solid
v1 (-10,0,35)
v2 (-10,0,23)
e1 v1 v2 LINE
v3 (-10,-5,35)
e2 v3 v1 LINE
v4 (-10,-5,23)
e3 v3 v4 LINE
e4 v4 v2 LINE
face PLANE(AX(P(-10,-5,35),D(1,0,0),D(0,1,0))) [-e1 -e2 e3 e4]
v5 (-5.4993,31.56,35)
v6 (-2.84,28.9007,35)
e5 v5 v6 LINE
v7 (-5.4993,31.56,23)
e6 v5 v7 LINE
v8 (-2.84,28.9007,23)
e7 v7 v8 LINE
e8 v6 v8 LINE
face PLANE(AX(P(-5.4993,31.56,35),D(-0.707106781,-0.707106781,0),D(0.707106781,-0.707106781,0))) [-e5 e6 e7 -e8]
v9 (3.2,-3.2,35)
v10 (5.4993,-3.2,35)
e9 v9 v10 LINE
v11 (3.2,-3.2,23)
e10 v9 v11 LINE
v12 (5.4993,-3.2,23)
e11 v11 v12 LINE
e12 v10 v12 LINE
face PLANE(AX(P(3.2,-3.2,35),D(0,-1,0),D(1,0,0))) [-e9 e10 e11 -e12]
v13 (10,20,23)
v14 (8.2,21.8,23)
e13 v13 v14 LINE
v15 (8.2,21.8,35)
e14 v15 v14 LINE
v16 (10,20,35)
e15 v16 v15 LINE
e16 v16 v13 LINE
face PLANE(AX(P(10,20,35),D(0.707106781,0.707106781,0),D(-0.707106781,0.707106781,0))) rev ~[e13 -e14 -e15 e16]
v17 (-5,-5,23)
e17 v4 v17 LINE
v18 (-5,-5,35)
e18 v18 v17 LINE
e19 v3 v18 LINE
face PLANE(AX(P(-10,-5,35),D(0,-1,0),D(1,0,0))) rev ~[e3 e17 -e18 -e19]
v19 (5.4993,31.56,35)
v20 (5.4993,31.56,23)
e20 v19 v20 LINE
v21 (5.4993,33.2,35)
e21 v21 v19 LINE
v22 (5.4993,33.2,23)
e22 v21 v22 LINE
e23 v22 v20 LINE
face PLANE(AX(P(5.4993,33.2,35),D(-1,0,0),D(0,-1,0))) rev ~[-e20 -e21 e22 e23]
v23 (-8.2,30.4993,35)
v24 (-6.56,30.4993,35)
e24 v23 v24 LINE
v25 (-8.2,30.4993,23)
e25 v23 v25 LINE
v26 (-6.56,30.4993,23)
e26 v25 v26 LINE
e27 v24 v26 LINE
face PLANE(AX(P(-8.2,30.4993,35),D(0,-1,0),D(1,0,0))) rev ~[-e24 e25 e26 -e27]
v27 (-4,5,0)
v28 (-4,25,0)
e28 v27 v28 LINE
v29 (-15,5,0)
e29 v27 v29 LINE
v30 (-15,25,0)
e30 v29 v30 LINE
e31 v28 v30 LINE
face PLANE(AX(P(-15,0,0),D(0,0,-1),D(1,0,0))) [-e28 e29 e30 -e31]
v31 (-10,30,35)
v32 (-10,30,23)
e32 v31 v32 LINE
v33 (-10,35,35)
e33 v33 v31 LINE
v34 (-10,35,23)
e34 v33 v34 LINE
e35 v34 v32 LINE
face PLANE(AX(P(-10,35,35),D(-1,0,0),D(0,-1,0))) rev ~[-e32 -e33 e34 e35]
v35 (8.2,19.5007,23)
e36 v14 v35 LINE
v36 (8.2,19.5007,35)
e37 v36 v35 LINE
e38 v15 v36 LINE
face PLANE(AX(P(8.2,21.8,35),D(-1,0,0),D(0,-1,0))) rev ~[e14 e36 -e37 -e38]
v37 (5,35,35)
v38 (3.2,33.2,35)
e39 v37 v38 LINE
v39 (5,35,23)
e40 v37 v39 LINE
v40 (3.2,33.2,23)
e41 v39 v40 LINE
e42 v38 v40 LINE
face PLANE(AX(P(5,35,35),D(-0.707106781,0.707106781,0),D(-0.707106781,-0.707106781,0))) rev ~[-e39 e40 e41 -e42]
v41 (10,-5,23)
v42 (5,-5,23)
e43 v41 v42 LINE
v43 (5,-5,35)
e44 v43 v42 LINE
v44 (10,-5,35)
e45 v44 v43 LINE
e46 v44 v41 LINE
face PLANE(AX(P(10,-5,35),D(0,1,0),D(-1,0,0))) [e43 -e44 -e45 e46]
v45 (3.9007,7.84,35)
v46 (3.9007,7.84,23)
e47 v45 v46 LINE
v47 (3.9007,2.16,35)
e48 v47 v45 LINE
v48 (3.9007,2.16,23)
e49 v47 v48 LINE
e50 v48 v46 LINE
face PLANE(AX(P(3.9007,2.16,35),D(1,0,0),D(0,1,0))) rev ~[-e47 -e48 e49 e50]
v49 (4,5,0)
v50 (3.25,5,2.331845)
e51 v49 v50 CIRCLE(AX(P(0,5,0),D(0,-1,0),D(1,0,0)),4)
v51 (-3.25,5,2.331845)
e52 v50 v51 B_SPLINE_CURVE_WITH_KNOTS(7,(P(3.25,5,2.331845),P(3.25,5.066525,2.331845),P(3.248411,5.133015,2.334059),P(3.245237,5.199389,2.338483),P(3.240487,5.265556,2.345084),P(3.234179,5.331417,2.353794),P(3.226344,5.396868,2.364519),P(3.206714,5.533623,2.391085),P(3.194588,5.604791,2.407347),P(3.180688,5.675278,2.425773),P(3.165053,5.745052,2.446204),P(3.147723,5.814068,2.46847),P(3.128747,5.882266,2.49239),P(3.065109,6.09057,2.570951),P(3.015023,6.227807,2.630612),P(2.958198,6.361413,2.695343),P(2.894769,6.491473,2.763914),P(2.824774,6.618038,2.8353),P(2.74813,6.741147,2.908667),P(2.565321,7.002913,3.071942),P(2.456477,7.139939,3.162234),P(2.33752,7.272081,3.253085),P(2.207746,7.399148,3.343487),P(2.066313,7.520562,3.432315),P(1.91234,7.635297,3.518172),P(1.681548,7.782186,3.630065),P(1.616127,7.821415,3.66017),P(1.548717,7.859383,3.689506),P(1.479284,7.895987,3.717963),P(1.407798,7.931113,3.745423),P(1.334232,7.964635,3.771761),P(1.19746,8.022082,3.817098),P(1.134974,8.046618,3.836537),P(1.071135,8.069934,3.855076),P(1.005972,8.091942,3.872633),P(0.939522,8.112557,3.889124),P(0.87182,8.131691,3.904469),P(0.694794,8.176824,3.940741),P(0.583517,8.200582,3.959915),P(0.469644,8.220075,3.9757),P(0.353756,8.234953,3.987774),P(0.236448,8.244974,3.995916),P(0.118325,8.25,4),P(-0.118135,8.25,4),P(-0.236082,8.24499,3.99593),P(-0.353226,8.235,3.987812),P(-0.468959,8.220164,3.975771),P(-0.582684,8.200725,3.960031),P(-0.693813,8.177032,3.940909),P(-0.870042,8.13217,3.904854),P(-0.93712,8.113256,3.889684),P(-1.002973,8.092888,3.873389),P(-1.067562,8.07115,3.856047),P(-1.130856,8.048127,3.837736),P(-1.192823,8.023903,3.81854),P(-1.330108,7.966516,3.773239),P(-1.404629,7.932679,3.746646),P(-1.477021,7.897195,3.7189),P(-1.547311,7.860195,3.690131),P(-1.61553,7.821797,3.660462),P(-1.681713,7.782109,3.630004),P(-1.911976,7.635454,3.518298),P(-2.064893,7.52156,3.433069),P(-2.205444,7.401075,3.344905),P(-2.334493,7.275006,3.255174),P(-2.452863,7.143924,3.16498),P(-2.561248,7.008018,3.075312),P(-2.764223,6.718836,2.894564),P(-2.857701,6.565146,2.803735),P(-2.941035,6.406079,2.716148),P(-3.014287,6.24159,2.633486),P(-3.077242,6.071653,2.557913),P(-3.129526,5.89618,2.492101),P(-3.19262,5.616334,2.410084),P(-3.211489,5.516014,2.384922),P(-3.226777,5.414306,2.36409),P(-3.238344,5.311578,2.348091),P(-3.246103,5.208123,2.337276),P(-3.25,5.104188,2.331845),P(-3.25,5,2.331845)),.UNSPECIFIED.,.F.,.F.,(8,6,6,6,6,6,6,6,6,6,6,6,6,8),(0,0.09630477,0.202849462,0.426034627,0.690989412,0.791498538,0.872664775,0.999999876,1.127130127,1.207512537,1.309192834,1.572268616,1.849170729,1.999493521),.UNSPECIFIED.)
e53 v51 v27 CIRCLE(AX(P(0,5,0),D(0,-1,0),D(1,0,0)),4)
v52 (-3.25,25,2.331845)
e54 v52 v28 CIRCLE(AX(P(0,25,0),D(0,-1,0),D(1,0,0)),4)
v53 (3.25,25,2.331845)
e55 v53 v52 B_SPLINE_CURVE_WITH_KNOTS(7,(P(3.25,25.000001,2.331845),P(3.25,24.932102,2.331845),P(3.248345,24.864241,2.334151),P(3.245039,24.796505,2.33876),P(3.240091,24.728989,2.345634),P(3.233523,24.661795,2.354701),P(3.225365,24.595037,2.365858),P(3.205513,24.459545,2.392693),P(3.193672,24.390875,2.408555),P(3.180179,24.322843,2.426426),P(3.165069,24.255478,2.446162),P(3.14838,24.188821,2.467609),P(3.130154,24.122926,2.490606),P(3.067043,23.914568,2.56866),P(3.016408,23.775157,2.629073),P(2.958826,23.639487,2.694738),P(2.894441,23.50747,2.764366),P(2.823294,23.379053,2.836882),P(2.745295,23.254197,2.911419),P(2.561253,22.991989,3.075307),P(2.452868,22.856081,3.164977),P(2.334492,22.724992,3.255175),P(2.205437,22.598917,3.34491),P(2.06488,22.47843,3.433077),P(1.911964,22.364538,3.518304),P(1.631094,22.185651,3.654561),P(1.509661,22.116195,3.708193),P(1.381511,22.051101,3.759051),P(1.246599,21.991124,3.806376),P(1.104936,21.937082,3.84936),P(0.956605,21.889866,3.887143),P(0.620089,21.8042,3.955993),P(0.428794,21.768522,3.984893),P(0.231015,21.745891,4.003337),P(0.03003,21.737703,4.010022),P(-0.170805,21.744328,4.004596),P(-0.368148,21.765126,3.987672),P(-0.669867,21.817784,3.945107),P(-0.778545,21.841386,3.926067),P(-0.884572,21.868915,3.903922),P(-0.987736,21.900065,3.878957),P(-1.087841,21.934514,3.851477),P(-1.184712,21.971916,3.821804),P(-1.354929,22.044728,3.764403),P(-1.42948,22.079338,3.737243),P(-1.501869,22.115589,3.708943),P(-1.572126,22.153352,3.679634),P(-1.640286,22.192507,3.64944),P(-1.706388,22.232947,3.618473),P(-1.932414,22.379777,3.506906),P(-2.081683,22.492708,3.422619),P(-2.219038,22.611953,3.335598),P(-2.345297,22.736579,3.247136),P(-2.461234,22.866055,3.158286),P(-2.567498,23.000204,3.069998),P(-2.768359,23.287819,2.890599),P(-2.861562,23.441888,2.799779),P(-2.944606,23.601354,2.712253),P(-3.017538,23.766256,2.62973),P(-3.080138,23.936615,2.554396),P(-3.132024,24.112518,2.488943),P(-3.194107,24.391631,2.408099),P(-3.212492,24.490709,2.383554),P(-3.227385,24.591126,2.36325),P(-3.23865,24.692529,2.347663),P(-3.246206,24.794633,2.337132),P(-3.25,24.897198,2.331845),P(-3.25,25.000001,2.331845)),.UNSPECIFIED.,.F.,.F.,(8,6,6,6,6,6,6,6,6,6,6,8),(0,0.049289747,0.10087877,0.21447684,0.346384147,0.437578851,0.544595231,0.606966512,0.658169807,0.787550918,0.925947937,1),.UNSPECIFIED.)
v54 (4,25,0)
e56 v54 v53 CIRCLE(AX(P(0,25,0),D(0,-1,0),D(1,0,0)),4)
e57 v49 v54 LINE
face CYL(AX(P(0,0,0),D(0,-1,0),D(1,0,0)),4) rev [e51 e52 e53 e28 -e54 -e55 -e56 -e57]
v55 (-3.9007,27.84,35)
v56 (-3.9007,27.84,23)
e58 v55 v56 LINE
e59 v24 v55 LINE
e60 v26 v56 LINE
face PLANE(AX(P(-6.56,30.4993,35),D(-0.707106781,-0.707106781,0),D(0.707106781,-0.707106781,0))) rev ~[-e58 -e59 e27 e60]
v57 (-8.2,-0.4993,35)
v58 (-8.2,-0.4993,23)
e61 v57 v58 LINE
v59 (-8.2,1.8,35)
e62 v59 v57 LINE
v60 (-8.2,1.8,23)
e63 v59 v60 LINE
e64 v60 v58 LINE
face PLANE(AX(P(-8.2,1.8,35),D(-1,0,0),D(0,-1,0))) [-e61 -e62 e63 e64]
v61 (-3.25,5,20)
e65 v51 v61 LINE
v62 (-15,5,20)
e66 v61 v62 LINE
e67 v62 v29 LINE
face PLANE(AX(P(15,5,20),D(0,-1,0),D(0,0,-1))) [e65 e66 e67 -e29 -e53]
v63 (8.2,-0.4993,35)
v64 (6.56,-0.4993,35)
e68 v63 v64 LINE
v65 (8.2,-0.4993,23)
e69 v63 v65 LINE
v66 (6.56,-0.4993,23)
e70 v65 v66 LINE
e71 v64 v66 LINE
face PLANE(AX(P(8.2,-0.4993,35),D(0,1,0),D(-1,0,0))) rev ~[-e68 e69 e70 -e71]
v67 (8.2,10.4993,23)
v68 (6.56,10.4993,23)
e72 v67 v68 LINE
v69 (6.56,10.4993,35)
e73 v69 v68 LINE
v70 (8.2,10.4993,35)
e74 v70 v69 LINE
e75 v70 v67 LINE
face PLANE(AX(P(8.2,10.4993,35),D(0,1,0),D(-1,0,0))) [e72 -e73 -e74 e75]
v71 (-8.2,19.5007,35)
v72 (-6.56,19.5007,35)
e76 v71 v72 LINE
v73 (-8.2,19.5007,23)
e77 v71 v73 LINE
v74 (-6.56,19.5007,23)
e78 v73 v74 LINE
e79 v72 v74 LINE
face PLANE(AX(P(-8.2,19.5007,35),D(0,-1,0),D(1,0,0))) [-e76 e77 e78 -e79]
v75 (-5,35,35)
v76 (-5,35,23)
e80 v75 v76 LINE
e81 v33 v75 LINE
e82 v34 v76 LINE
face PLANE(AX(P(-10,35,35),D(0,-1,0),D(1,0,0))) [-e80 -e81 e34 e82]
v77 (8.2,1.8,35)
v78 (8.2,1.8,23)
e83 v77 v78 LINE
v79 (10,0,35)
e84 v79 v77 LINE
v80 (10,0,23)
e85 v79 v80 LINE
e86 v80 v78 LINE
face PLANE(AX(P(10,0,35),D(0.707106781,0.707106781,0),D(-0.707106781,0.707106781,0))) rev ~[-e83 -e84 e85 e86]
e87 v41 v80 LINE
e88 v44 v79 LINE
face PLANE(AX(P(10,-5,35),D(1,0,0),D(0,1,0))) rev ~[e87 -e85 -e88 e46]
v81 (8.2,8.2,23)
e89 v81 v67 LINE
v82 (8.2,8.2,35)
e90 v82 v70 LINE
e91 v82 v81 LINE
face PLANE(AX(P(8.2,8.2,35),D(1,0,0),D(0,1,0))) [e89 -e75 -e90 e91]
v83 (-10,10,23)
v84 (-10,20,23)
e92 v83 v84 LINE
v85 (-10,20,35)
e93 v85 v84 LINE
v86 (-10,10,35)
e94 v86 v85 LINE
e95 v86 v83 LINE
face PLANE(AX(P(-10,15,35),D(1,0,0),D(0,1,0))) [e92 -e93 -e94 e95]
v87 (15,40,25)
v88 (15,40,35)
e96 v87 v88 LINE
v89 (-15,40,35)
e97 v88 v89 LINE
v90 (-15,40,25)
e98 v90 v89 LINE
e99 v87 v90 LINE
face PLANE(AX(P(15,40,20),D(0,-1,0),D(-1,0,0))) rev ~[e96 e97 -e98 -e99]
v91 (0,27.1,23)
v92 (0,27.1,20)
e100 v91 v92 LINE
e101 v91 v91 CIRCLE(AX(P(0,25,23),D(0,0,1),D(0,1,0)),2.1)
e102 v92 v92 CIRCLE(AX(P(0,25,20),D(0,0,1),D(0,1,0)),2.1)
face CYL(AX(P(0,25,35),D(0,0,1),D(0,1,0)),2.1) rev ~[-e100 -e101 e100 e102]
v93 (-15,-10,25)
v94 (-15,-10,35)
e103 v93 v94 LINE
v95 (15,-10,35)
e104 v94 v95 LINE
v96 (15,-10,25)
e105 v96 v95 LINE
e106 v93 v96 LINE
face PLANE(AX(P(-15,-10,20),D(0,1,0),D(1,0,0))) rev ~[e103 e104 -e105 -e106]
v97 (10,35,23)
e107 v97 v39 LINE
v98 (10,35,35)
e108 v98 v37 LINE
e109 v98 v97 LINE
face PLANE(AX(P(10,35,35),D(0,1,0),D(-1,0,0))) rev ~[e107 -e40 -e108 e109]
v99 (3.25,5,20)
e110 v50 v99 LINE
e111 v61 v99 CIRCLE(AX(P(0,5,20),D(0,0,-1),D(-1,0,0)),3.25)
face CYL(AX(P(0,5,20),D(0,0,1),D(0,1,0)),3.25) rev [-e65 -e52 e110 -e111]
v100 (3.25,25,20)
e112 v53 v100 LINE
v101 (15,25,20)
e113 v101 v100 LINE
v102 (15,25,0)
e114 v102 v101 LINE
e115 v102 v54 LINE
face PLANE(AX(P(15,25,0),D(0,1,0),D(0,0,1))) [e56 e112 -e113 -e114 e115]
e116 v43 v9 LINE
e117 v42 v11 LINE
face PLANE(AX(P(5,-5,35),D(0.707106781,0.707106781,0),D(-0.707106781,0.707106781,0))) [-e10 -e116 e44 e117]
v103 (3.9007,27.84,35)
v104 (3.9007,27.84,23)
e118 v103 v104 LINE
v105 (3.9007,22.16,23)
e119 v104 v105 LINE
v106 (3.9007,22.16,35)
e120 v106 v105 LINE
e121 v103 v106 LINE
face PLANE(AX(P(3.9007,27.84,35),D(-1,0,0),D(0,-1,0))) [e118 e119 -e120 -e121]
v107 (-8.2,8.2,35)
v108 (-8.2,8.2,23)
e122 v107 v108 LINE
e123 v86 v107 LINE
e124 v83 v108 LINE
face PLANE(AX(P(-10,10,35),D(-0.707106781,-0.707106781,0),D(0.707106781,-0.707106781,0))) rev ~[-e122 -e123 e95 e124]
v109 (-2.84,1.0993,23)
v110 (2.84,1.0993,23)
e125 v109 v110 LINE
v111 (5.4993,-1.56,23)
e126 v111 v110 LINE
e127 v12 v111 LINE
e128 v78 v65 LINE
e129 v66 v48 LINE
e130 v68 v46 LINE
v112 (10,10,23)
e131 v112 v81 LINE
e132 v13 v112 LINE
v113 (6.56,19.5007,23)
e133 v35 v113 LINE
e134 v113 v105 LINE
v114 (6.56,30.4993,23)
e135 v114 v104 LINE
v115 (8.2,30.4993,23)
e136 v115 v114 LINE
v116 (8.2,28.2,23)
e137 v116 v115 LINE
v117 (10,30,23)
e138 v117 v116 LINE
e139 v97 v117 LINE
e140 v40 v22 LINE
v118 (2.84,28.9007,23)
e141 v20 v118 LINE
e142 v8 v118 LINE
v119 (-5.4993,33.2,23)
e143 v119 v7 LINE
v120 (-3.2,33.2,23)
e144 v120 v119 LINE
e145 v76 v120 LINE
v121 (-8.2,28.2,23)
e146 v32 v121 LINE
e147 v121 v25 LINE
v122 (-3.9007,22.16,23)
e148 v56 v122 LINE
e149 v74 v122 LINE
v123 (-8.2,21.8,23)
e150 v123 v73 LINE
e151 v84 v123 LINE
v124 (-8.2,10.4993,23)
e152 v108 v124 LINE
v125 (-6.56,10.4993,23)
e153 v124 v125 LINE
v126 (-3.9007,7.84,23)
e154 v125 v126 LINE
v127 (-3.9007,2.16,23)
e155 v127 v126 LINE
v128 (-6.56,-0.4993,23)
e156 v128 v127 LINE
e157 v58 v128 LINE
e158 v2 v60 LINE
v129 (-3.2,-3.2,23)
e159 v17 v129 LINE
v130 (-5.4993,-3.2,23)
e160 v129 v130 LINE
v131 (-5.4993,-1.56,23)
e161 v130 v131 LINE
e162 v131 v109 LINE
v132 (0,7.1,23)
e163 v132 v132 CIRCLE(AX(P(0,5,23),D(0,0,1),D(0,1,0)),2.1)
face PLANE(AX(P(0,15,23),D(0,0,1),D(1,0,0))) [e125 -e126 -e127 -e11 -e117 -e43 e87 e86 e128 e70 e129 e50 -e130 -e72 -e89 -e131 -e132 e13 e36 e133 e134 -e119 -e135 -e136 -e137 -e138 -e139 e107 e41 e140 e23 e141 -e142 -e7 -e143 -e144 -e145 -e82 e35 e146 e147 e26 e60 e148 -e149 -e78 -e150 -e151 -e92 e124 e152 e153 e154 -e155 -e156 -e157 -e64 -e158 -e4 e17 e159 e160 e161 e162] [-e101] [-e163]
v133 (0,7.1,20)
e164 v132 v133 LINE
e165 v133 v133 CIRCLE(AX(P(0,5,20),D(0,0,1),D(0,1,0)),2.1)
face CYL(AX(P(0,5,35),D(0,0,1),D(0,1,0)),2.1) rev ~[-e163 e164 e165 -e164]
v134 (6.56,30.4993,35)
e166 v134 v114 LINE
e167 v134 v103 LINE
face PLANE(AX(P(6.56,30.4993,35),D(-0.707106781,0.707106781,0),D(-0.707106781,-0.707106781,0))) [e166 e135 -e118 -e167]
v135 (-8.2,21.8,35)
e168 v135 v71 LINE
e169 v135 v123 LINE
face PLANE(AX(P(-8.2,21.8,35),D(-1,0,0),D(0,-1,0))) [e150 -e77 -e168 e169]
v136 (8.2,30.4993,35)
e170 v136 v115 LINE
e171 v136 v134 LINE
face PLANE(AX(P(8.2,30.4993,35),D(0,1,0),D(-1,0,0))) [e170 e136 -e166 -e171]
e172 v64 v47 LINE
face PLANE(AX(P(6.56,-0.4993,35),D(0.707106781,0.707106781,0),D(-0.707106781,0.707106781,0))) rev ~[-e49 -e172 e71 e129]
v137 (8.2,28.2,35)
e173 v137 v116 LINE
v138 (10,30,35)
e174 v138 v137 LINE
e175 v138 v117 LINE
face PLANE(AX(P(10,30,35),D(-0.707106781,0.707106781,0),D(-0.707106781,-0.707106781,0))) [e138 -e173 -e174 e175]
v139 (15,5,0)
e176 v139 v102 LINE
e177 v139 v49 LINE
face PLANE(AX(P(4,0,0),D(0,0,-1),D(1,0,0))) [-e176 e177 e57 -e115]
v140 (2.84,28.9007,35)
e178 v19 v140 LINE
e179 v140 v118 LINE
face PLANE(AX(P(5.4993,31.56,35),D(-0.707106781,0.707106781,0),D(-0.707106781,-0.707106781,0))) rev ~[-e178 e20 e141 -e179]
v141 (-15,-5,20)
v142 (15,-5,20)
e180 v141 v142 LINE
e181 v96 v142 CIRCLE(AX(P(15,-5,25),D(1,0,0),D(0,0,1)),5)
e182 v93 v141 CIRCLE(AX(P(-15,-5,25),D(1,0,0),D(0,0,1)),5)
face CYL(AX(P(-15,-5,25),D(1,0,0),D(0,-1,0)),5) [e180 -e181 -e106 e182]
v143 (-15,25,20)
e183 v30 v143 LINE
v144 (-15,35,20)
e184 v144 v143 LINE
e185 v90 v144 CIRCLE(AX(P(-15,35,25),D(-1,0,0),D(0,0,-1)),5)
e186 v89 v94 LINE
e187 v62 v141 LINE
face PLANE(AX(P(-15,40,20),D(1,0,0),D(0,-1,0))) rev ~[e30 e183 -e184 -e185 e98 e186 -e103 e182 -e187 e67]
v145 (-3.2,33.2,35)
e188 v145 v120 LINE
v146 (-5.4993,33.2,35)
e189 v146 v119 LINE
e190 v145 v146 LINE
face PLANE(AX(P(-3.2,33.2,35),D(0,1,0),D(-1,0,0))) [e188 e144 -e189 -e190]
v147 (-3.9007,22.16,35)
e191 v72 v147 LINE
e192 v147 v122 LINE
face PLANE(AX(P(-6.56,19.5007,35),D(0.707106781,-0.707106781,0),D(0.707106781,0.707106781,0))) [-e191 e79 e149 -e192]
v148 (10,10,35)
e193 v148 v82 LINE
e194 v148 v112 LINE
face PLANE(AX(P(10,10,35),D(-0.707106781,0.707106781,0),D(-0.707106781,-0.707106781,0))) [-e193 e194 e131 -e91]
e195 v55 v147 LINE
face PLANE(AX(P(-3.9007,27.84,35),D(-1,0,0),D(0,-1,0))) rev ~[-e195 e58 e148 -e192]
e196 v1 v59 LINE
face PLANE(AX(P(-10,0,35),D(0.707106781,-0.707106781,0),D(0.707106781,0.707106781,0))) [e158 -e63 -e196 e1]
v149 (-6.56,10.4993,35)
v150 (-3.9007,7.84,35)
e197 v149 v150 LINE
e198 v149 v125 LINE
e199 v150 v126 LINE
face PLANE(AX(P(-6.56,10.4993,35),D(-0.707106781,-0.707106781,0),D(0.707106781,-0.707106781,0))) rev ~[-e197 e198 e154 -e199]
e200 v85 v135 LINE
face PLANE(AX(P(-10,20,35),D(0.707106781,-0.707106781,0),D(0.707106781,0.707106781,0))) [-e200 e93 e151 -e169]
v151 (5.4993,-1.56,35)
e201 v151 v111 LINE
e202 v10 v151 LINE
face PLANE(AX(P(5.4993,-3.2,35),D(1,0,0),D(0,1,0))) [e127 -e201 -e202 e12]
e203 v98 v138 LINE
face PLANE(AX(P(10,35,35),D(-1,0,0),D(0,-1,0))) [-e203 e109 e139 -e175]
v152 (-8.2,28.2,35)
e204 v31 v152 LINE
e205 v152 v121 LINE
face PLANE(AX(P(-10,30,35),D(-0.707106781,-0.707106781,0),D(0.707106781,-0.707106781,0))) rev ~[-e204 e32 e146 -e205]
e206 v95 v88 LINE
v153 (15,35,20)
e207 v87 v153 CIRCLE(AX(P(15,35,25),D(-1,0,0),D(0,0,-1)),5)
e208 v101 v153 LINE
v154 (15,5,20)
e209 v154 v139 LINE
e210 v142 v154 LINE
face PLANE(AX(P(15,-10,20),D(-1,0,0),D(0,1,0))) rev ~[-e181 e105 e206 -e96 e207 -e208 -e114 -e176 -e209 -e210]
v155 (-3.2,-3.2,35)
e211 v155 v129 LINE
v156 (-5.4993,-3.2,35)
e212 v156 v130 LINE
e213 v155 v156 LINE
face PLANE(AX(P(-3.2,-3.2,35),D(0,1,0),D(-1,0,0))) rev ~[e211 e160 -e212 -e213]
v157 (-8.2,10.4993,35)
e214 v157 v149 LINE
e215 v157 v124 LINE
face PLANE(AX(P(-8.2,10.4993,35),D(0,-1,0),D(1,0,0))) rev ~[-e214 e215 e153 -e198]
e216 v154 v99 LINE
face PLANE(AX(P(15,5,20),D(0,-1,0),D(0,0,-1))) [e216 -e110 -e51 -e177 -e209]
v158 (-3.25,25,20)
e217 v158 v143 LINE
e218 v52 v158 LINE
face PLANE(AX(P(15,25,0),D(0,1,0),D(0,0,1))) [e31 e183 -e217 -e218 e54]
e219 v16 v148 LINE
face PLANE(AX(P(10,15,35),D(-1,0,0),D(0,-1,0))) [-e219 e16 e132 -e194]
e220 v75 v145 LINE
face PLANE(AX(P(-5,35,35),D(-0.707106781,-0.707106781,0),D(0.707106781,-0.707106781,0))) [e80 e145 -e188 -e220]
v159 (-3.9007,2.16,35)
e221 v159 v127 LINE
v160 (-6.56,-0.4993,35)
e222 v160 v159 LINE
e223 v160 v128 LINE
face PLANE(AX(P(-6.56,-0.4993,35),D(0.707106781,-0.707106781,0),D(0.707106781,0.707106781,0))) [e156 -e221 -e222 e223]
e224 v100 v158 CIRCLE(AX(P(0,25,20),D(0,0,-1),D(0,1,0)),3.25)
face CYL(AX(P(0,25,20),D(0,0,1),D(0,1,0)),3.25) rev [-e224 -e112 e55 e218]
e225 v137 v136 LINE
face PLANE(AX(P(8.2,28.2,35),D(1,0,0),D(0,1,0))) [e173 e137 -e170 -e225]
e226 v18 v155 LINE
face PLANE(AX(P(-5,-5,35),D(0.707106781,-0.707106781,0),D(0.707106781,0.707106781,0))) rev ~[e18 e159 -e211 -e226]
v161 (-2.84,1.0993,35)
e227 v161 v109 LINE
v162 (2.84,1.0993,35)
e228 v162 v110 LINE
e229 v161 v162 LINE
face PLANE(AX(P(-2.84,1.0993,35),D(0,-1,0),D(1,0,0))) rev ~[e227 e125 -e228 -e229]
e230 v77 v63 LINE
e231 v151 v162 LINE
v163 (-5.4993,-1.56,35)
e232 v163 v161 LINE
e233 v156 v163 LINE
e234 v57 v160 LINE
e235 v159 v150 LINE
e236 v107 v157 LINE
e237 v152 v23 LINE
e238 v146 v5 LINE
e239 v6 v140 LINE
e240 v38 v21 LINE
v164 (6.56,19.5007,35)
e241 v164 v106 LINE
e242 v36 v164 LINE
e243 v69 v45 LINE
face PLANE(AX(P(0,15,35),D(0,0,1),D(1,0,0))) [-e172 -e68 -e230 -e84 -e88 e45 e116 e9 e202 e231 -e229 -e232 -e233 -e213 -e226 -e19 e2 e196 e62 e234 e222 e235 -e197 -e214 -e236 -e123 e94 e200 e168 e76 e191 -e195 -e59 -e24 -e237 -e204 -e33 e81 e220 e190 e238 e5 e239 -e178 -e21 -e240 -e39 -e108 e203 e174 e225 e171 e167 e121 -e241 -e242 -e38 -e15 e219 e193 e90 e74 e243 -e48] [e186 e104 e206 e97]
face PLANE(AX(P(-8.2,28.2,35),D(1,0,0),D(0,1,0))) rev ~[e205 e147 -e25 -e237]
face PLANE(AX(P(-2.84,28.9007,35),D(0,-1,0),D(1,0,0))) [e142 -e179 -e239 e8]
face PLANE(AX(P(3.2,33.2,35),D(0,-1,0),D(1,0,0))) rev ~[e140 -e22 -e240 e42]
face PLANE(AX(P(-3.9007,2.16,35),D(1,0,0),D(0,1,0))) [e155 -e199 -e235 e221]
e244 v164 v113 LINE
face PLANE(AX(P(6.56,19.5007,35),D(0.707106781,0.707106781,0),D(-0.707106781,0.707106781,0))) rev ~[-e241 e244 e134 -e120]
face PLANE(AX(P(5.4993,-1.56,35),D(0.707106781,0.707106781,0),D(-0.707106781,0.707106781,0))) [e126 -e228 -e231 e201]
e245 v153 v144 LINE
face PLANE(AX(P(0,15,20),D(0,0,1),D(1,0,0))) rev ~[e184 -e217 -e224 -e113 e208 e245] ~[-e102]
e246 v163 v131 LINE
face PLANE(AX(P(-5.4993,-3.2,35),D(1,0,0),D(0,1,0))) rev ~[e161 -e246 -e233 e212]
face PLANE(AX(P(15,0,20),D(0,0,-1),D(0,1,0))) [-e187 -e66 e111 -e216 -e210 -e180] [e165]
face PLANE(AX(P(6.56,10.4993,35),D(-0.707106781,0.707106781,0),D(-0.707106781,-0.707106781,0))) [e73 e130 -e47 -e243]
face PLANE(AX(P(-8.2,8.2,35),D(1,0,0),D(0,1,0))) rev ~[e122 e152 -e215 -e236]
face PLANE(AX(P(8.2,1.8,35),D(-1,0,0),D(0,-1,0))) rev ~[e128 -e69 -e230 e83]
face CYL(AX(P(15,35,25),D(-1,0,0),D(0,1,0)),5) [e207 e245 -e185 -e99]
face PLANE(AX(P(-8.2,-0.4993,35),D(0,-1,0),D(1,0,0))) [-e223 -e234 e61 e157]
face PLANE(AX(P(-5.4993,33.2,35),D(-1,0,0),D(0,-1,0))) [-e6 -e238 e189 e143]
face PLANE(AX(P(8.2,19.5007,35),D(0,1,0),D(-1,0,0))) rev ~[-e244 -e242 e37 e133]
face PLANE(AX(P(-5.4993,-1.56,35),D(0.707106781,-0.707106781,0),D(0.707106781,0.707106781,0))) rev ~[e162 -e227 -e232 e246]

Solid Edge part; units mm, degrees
sketch "Sketch1" plane through (0, 0, 0) normal (0, -1, 0) x (1, 0, 0)
  line L0 (-15, 20) -> (-15, 0)
  line L1 (-15, 0) -> (-4, 0)
  line L2 (4, 0) -> (15, 0)
  line L3 (15, 0) -> (15, 20)
  line L4 (-15, 20) -> (15, 20)
  arc A0 (-4, 0) -> (4, 0) centre (0, 0) cw
extrude "Protrusion1" add sketch "Sketch1" against normal blind 30
sketch "Sketch2" plane through (0, 15, 20) normal (0, 0, 1) x (1, 0, 0)
  line L0 (-15, -25) -> (15, -25)
  line L1 (15, -25) -> (15, 25)
  line L2 (15, 25) -> (-15, 25)
  line L3 (-15, 25) -> (-15, -25)
extrude "ExtrudedProtrusion_2" add sketch "Sketch2" along normal blind 15
fillet "Round_1" radius 5 1 edges at (0, -10, 20)
sketch "Sketch3" plane through (15, 15, 17.5) normal (1, 0, 0) x (0, 1, 0)
  line L0 (10, -17.5) -> (10, 2.5)
  line L1 (10, 2.5) -> (15, 2.5)
  line L2 (15, 2.5) -> (15, -17.5)
  line L3 (15, -17.5) -> (10, -17.5)
  line L4 (-10, 2.5) -> (-10, -17.5)
  line L5 (-10, -17.5) -> (-15, -17.5)
  line L6 (-15, -17.5) -> (-15, 2.5)
  line L7 (-15, 2.5) -> (-10, 2.5)
extrude "Cutout1" cut sketch "Sketch3" against normal blind 30
fillet "Round_4" radius 5 1 edges at (0, 40, 20)
sketch "Sketch4" plane through (0, 15, 35) normal (0, 0, 1) x (0, 1, 0)
  line L0 (4.5007, -6.56) -> (7.16, -3.9007)
  line L1 (12.84, -3.9007) -> (7.16, -3.9007)
  line L2 (15.4993, -6.56) -> (12.84, -3.9007)
  line L3 (15.4993, -8.2) -> (15.4993, -6.56)
  line L4 (13.2, -8.2) -> (15.4993, -8.2)
  line L5 (15, -10) -> (13.2, -8.2)
  line L6 (20, -10) -> (15, -10)
  line L7 (20, -10) -> (20, -5)
  line L8 (20, -5) -> (18.2, -3.2)
  line L9 (18.2, -3.2) -> (18.2, -5.4993)
  line L10 (18.2, -5.4993) -> (16.56, -5.4993)
  line L11 (16.56, -5.4993) -> (13.9007, -2.84)
  line L12 (13.9007, 2.84) -> (13.9007, -2.84)
  line L13 (16.56, 5.4993) -> (13.9007, 2.84)
  line L14 (18.2, 5.4993) -> (16.56, 5.4993)
  line L15 (18.2, 3.2) -> (18.2, 5.4993)
  line L16 (20, 5) -> (18.2, 3.2)
  line L17 (20, 10) -> (20, 5)
  line L18 (20, 10) -> (15, 10)
  line L19 (15, 10) -> (13.2, 8.2)
  line L20 (13.2, 8.2) -> (15.4993, 8.2)
  line L21 (15.4993, 8.2) -> (15.4993, 6.56)
  line L22 (15.4993, 6.56) -> (12.84, 3.9007)
  line L23 (12.84, 3.9007) -> (7.16, 3.9007)
  line L24 (4.5007, 6.56) -> (7.16, 3.9007)
  line L25 (4.5007, 8.2) -> (4.5007, 6.56)
  line L26 (6.8, 8.2) -> (4.5007, 8.2)
  line L27 (5, 10) -> (6.8, 8.2)
  line L28 (0, 10) -> (5, 10)
  line L29 (0, 10) -> (-5, 10)
  line L30 (-5, 10) -> (-6.8, 8.2)
  line L31 (-6.8, 8.2) -> (-4.5007, 8.2)
  line L32 (-4.5007, 8.2) -> (-4.5007, 6.56)
  line L33 (-4.5007, 6.56) -> (-7.16, 3.9007)
  line L34 (-12.84, 3.9007) -> (-7.16, 3.9007)
  line L35 (-15.4993, 6.56) -> (-12.84, 3.9007)
  line L36 (-15.4993, 8.2) -> (-15.4993, 6.56)
  line L37 (-13.2, 8.2) -> (-15.4993, 8.2)
  line L38 (-15, 10) -> (-13.2, 8.2)
  line L39 (-20, 10) -> (-15, 10)
  line L40 (-20, 10) -> (-20, 5)
  line L41 (-20, 5) -> (-18.2, 3.2)
  line L42 (-18.2, 3.2) -> (-18.2, 5.4993)
  line L43 (-18.2, 5.4993) -> (-16.56, 5.4993)
  line L44 (-16.56, 5.4993) -> (-13.9007, 2.84)
  line L45 (-13.9007, 2.84) -> (-13.9007, -2.84)
  line L46 (-16.56, -5.4993) -> (-13.9007, -2.84)
  line L47 (-18.2, -5.4993) -> (-16.56, -5.4993)
  line L48 (-18.2, -3.2) -> (-18.2, -5.4993)
  line L49 (-20, -5) -> (-18.2, -3.2)
  line L50 (-20, -10) -> (-20, -5)
  line L51 (-20, -10) -> (-15, -10)
  line L52 (-15, -10) -> (-13.2, -8.2)
  line L53 (-13.2, -8.2) -> (-15.4993, -8.2)
  line L54 (-15.4993, -8.2) -> (-15.4993, -6.56)
  line L55 (-15.4993, -6.56) -> (-12.84, -3.9007)
  line L56 (-12.84, -3.9007) -> (-7.16, -3.9007)
  line L57 (-4.5007, -6.56) -> (-7.16, -3.9007)
  line L58 (-4.5007, -8.2) -> (-4.5007, -6.56)
  line L59 (-6.8, -8.2) -> (-4.5007, -8.2)
  line L60 (-5, -10) -> (-6.8, -8.2)
  line L61 (0, -10) -> (-5, -10)
  line L62 (0, -10) -> (5, -10)
  line L63 (5, -10) -> (6.8, -8.2)
  line L64 (6.8, -8.2) -> (4.5007, -8.2)
  line L65 (4.5007, -8.2) -> (4.5007, -6.56)
extrude "ExtrudedCutout_7" cut sketch "Sketch4" against normal blind 12
sketch "Sketch5" plane through (0, 15, 35) normal (0, 0, 1) x (0, 1, 0)
  circle A0 centre (-10, 0) radius 2.1
  circle A1 centre (10, 0) radius 2.1
extrude "ExtrudedCutout_8" cut sketch "Sketch5" against normal blind 50
sketch "Sketch6" plane through (0, 30, 20) normal (0, 0, -1) x (0, 1, 0)
  circle A0 centre (-5, 0) radius 3.25
  circle A1 centre (-25, 0) radius 3.25
extrude "ExtrudedCutout_9" cut sketch "Sketch6" along normal blind 30
extrude "ExtrudedCutout_1" [suppressed]
extrude "ExtrudedCutout_2" [suppressed]
extrude "ExtrudedCutout_4" [suppressed]
extrude "ExtrudedCutout_5" [suppressed]
fillet "Round_2" [suppressed]
